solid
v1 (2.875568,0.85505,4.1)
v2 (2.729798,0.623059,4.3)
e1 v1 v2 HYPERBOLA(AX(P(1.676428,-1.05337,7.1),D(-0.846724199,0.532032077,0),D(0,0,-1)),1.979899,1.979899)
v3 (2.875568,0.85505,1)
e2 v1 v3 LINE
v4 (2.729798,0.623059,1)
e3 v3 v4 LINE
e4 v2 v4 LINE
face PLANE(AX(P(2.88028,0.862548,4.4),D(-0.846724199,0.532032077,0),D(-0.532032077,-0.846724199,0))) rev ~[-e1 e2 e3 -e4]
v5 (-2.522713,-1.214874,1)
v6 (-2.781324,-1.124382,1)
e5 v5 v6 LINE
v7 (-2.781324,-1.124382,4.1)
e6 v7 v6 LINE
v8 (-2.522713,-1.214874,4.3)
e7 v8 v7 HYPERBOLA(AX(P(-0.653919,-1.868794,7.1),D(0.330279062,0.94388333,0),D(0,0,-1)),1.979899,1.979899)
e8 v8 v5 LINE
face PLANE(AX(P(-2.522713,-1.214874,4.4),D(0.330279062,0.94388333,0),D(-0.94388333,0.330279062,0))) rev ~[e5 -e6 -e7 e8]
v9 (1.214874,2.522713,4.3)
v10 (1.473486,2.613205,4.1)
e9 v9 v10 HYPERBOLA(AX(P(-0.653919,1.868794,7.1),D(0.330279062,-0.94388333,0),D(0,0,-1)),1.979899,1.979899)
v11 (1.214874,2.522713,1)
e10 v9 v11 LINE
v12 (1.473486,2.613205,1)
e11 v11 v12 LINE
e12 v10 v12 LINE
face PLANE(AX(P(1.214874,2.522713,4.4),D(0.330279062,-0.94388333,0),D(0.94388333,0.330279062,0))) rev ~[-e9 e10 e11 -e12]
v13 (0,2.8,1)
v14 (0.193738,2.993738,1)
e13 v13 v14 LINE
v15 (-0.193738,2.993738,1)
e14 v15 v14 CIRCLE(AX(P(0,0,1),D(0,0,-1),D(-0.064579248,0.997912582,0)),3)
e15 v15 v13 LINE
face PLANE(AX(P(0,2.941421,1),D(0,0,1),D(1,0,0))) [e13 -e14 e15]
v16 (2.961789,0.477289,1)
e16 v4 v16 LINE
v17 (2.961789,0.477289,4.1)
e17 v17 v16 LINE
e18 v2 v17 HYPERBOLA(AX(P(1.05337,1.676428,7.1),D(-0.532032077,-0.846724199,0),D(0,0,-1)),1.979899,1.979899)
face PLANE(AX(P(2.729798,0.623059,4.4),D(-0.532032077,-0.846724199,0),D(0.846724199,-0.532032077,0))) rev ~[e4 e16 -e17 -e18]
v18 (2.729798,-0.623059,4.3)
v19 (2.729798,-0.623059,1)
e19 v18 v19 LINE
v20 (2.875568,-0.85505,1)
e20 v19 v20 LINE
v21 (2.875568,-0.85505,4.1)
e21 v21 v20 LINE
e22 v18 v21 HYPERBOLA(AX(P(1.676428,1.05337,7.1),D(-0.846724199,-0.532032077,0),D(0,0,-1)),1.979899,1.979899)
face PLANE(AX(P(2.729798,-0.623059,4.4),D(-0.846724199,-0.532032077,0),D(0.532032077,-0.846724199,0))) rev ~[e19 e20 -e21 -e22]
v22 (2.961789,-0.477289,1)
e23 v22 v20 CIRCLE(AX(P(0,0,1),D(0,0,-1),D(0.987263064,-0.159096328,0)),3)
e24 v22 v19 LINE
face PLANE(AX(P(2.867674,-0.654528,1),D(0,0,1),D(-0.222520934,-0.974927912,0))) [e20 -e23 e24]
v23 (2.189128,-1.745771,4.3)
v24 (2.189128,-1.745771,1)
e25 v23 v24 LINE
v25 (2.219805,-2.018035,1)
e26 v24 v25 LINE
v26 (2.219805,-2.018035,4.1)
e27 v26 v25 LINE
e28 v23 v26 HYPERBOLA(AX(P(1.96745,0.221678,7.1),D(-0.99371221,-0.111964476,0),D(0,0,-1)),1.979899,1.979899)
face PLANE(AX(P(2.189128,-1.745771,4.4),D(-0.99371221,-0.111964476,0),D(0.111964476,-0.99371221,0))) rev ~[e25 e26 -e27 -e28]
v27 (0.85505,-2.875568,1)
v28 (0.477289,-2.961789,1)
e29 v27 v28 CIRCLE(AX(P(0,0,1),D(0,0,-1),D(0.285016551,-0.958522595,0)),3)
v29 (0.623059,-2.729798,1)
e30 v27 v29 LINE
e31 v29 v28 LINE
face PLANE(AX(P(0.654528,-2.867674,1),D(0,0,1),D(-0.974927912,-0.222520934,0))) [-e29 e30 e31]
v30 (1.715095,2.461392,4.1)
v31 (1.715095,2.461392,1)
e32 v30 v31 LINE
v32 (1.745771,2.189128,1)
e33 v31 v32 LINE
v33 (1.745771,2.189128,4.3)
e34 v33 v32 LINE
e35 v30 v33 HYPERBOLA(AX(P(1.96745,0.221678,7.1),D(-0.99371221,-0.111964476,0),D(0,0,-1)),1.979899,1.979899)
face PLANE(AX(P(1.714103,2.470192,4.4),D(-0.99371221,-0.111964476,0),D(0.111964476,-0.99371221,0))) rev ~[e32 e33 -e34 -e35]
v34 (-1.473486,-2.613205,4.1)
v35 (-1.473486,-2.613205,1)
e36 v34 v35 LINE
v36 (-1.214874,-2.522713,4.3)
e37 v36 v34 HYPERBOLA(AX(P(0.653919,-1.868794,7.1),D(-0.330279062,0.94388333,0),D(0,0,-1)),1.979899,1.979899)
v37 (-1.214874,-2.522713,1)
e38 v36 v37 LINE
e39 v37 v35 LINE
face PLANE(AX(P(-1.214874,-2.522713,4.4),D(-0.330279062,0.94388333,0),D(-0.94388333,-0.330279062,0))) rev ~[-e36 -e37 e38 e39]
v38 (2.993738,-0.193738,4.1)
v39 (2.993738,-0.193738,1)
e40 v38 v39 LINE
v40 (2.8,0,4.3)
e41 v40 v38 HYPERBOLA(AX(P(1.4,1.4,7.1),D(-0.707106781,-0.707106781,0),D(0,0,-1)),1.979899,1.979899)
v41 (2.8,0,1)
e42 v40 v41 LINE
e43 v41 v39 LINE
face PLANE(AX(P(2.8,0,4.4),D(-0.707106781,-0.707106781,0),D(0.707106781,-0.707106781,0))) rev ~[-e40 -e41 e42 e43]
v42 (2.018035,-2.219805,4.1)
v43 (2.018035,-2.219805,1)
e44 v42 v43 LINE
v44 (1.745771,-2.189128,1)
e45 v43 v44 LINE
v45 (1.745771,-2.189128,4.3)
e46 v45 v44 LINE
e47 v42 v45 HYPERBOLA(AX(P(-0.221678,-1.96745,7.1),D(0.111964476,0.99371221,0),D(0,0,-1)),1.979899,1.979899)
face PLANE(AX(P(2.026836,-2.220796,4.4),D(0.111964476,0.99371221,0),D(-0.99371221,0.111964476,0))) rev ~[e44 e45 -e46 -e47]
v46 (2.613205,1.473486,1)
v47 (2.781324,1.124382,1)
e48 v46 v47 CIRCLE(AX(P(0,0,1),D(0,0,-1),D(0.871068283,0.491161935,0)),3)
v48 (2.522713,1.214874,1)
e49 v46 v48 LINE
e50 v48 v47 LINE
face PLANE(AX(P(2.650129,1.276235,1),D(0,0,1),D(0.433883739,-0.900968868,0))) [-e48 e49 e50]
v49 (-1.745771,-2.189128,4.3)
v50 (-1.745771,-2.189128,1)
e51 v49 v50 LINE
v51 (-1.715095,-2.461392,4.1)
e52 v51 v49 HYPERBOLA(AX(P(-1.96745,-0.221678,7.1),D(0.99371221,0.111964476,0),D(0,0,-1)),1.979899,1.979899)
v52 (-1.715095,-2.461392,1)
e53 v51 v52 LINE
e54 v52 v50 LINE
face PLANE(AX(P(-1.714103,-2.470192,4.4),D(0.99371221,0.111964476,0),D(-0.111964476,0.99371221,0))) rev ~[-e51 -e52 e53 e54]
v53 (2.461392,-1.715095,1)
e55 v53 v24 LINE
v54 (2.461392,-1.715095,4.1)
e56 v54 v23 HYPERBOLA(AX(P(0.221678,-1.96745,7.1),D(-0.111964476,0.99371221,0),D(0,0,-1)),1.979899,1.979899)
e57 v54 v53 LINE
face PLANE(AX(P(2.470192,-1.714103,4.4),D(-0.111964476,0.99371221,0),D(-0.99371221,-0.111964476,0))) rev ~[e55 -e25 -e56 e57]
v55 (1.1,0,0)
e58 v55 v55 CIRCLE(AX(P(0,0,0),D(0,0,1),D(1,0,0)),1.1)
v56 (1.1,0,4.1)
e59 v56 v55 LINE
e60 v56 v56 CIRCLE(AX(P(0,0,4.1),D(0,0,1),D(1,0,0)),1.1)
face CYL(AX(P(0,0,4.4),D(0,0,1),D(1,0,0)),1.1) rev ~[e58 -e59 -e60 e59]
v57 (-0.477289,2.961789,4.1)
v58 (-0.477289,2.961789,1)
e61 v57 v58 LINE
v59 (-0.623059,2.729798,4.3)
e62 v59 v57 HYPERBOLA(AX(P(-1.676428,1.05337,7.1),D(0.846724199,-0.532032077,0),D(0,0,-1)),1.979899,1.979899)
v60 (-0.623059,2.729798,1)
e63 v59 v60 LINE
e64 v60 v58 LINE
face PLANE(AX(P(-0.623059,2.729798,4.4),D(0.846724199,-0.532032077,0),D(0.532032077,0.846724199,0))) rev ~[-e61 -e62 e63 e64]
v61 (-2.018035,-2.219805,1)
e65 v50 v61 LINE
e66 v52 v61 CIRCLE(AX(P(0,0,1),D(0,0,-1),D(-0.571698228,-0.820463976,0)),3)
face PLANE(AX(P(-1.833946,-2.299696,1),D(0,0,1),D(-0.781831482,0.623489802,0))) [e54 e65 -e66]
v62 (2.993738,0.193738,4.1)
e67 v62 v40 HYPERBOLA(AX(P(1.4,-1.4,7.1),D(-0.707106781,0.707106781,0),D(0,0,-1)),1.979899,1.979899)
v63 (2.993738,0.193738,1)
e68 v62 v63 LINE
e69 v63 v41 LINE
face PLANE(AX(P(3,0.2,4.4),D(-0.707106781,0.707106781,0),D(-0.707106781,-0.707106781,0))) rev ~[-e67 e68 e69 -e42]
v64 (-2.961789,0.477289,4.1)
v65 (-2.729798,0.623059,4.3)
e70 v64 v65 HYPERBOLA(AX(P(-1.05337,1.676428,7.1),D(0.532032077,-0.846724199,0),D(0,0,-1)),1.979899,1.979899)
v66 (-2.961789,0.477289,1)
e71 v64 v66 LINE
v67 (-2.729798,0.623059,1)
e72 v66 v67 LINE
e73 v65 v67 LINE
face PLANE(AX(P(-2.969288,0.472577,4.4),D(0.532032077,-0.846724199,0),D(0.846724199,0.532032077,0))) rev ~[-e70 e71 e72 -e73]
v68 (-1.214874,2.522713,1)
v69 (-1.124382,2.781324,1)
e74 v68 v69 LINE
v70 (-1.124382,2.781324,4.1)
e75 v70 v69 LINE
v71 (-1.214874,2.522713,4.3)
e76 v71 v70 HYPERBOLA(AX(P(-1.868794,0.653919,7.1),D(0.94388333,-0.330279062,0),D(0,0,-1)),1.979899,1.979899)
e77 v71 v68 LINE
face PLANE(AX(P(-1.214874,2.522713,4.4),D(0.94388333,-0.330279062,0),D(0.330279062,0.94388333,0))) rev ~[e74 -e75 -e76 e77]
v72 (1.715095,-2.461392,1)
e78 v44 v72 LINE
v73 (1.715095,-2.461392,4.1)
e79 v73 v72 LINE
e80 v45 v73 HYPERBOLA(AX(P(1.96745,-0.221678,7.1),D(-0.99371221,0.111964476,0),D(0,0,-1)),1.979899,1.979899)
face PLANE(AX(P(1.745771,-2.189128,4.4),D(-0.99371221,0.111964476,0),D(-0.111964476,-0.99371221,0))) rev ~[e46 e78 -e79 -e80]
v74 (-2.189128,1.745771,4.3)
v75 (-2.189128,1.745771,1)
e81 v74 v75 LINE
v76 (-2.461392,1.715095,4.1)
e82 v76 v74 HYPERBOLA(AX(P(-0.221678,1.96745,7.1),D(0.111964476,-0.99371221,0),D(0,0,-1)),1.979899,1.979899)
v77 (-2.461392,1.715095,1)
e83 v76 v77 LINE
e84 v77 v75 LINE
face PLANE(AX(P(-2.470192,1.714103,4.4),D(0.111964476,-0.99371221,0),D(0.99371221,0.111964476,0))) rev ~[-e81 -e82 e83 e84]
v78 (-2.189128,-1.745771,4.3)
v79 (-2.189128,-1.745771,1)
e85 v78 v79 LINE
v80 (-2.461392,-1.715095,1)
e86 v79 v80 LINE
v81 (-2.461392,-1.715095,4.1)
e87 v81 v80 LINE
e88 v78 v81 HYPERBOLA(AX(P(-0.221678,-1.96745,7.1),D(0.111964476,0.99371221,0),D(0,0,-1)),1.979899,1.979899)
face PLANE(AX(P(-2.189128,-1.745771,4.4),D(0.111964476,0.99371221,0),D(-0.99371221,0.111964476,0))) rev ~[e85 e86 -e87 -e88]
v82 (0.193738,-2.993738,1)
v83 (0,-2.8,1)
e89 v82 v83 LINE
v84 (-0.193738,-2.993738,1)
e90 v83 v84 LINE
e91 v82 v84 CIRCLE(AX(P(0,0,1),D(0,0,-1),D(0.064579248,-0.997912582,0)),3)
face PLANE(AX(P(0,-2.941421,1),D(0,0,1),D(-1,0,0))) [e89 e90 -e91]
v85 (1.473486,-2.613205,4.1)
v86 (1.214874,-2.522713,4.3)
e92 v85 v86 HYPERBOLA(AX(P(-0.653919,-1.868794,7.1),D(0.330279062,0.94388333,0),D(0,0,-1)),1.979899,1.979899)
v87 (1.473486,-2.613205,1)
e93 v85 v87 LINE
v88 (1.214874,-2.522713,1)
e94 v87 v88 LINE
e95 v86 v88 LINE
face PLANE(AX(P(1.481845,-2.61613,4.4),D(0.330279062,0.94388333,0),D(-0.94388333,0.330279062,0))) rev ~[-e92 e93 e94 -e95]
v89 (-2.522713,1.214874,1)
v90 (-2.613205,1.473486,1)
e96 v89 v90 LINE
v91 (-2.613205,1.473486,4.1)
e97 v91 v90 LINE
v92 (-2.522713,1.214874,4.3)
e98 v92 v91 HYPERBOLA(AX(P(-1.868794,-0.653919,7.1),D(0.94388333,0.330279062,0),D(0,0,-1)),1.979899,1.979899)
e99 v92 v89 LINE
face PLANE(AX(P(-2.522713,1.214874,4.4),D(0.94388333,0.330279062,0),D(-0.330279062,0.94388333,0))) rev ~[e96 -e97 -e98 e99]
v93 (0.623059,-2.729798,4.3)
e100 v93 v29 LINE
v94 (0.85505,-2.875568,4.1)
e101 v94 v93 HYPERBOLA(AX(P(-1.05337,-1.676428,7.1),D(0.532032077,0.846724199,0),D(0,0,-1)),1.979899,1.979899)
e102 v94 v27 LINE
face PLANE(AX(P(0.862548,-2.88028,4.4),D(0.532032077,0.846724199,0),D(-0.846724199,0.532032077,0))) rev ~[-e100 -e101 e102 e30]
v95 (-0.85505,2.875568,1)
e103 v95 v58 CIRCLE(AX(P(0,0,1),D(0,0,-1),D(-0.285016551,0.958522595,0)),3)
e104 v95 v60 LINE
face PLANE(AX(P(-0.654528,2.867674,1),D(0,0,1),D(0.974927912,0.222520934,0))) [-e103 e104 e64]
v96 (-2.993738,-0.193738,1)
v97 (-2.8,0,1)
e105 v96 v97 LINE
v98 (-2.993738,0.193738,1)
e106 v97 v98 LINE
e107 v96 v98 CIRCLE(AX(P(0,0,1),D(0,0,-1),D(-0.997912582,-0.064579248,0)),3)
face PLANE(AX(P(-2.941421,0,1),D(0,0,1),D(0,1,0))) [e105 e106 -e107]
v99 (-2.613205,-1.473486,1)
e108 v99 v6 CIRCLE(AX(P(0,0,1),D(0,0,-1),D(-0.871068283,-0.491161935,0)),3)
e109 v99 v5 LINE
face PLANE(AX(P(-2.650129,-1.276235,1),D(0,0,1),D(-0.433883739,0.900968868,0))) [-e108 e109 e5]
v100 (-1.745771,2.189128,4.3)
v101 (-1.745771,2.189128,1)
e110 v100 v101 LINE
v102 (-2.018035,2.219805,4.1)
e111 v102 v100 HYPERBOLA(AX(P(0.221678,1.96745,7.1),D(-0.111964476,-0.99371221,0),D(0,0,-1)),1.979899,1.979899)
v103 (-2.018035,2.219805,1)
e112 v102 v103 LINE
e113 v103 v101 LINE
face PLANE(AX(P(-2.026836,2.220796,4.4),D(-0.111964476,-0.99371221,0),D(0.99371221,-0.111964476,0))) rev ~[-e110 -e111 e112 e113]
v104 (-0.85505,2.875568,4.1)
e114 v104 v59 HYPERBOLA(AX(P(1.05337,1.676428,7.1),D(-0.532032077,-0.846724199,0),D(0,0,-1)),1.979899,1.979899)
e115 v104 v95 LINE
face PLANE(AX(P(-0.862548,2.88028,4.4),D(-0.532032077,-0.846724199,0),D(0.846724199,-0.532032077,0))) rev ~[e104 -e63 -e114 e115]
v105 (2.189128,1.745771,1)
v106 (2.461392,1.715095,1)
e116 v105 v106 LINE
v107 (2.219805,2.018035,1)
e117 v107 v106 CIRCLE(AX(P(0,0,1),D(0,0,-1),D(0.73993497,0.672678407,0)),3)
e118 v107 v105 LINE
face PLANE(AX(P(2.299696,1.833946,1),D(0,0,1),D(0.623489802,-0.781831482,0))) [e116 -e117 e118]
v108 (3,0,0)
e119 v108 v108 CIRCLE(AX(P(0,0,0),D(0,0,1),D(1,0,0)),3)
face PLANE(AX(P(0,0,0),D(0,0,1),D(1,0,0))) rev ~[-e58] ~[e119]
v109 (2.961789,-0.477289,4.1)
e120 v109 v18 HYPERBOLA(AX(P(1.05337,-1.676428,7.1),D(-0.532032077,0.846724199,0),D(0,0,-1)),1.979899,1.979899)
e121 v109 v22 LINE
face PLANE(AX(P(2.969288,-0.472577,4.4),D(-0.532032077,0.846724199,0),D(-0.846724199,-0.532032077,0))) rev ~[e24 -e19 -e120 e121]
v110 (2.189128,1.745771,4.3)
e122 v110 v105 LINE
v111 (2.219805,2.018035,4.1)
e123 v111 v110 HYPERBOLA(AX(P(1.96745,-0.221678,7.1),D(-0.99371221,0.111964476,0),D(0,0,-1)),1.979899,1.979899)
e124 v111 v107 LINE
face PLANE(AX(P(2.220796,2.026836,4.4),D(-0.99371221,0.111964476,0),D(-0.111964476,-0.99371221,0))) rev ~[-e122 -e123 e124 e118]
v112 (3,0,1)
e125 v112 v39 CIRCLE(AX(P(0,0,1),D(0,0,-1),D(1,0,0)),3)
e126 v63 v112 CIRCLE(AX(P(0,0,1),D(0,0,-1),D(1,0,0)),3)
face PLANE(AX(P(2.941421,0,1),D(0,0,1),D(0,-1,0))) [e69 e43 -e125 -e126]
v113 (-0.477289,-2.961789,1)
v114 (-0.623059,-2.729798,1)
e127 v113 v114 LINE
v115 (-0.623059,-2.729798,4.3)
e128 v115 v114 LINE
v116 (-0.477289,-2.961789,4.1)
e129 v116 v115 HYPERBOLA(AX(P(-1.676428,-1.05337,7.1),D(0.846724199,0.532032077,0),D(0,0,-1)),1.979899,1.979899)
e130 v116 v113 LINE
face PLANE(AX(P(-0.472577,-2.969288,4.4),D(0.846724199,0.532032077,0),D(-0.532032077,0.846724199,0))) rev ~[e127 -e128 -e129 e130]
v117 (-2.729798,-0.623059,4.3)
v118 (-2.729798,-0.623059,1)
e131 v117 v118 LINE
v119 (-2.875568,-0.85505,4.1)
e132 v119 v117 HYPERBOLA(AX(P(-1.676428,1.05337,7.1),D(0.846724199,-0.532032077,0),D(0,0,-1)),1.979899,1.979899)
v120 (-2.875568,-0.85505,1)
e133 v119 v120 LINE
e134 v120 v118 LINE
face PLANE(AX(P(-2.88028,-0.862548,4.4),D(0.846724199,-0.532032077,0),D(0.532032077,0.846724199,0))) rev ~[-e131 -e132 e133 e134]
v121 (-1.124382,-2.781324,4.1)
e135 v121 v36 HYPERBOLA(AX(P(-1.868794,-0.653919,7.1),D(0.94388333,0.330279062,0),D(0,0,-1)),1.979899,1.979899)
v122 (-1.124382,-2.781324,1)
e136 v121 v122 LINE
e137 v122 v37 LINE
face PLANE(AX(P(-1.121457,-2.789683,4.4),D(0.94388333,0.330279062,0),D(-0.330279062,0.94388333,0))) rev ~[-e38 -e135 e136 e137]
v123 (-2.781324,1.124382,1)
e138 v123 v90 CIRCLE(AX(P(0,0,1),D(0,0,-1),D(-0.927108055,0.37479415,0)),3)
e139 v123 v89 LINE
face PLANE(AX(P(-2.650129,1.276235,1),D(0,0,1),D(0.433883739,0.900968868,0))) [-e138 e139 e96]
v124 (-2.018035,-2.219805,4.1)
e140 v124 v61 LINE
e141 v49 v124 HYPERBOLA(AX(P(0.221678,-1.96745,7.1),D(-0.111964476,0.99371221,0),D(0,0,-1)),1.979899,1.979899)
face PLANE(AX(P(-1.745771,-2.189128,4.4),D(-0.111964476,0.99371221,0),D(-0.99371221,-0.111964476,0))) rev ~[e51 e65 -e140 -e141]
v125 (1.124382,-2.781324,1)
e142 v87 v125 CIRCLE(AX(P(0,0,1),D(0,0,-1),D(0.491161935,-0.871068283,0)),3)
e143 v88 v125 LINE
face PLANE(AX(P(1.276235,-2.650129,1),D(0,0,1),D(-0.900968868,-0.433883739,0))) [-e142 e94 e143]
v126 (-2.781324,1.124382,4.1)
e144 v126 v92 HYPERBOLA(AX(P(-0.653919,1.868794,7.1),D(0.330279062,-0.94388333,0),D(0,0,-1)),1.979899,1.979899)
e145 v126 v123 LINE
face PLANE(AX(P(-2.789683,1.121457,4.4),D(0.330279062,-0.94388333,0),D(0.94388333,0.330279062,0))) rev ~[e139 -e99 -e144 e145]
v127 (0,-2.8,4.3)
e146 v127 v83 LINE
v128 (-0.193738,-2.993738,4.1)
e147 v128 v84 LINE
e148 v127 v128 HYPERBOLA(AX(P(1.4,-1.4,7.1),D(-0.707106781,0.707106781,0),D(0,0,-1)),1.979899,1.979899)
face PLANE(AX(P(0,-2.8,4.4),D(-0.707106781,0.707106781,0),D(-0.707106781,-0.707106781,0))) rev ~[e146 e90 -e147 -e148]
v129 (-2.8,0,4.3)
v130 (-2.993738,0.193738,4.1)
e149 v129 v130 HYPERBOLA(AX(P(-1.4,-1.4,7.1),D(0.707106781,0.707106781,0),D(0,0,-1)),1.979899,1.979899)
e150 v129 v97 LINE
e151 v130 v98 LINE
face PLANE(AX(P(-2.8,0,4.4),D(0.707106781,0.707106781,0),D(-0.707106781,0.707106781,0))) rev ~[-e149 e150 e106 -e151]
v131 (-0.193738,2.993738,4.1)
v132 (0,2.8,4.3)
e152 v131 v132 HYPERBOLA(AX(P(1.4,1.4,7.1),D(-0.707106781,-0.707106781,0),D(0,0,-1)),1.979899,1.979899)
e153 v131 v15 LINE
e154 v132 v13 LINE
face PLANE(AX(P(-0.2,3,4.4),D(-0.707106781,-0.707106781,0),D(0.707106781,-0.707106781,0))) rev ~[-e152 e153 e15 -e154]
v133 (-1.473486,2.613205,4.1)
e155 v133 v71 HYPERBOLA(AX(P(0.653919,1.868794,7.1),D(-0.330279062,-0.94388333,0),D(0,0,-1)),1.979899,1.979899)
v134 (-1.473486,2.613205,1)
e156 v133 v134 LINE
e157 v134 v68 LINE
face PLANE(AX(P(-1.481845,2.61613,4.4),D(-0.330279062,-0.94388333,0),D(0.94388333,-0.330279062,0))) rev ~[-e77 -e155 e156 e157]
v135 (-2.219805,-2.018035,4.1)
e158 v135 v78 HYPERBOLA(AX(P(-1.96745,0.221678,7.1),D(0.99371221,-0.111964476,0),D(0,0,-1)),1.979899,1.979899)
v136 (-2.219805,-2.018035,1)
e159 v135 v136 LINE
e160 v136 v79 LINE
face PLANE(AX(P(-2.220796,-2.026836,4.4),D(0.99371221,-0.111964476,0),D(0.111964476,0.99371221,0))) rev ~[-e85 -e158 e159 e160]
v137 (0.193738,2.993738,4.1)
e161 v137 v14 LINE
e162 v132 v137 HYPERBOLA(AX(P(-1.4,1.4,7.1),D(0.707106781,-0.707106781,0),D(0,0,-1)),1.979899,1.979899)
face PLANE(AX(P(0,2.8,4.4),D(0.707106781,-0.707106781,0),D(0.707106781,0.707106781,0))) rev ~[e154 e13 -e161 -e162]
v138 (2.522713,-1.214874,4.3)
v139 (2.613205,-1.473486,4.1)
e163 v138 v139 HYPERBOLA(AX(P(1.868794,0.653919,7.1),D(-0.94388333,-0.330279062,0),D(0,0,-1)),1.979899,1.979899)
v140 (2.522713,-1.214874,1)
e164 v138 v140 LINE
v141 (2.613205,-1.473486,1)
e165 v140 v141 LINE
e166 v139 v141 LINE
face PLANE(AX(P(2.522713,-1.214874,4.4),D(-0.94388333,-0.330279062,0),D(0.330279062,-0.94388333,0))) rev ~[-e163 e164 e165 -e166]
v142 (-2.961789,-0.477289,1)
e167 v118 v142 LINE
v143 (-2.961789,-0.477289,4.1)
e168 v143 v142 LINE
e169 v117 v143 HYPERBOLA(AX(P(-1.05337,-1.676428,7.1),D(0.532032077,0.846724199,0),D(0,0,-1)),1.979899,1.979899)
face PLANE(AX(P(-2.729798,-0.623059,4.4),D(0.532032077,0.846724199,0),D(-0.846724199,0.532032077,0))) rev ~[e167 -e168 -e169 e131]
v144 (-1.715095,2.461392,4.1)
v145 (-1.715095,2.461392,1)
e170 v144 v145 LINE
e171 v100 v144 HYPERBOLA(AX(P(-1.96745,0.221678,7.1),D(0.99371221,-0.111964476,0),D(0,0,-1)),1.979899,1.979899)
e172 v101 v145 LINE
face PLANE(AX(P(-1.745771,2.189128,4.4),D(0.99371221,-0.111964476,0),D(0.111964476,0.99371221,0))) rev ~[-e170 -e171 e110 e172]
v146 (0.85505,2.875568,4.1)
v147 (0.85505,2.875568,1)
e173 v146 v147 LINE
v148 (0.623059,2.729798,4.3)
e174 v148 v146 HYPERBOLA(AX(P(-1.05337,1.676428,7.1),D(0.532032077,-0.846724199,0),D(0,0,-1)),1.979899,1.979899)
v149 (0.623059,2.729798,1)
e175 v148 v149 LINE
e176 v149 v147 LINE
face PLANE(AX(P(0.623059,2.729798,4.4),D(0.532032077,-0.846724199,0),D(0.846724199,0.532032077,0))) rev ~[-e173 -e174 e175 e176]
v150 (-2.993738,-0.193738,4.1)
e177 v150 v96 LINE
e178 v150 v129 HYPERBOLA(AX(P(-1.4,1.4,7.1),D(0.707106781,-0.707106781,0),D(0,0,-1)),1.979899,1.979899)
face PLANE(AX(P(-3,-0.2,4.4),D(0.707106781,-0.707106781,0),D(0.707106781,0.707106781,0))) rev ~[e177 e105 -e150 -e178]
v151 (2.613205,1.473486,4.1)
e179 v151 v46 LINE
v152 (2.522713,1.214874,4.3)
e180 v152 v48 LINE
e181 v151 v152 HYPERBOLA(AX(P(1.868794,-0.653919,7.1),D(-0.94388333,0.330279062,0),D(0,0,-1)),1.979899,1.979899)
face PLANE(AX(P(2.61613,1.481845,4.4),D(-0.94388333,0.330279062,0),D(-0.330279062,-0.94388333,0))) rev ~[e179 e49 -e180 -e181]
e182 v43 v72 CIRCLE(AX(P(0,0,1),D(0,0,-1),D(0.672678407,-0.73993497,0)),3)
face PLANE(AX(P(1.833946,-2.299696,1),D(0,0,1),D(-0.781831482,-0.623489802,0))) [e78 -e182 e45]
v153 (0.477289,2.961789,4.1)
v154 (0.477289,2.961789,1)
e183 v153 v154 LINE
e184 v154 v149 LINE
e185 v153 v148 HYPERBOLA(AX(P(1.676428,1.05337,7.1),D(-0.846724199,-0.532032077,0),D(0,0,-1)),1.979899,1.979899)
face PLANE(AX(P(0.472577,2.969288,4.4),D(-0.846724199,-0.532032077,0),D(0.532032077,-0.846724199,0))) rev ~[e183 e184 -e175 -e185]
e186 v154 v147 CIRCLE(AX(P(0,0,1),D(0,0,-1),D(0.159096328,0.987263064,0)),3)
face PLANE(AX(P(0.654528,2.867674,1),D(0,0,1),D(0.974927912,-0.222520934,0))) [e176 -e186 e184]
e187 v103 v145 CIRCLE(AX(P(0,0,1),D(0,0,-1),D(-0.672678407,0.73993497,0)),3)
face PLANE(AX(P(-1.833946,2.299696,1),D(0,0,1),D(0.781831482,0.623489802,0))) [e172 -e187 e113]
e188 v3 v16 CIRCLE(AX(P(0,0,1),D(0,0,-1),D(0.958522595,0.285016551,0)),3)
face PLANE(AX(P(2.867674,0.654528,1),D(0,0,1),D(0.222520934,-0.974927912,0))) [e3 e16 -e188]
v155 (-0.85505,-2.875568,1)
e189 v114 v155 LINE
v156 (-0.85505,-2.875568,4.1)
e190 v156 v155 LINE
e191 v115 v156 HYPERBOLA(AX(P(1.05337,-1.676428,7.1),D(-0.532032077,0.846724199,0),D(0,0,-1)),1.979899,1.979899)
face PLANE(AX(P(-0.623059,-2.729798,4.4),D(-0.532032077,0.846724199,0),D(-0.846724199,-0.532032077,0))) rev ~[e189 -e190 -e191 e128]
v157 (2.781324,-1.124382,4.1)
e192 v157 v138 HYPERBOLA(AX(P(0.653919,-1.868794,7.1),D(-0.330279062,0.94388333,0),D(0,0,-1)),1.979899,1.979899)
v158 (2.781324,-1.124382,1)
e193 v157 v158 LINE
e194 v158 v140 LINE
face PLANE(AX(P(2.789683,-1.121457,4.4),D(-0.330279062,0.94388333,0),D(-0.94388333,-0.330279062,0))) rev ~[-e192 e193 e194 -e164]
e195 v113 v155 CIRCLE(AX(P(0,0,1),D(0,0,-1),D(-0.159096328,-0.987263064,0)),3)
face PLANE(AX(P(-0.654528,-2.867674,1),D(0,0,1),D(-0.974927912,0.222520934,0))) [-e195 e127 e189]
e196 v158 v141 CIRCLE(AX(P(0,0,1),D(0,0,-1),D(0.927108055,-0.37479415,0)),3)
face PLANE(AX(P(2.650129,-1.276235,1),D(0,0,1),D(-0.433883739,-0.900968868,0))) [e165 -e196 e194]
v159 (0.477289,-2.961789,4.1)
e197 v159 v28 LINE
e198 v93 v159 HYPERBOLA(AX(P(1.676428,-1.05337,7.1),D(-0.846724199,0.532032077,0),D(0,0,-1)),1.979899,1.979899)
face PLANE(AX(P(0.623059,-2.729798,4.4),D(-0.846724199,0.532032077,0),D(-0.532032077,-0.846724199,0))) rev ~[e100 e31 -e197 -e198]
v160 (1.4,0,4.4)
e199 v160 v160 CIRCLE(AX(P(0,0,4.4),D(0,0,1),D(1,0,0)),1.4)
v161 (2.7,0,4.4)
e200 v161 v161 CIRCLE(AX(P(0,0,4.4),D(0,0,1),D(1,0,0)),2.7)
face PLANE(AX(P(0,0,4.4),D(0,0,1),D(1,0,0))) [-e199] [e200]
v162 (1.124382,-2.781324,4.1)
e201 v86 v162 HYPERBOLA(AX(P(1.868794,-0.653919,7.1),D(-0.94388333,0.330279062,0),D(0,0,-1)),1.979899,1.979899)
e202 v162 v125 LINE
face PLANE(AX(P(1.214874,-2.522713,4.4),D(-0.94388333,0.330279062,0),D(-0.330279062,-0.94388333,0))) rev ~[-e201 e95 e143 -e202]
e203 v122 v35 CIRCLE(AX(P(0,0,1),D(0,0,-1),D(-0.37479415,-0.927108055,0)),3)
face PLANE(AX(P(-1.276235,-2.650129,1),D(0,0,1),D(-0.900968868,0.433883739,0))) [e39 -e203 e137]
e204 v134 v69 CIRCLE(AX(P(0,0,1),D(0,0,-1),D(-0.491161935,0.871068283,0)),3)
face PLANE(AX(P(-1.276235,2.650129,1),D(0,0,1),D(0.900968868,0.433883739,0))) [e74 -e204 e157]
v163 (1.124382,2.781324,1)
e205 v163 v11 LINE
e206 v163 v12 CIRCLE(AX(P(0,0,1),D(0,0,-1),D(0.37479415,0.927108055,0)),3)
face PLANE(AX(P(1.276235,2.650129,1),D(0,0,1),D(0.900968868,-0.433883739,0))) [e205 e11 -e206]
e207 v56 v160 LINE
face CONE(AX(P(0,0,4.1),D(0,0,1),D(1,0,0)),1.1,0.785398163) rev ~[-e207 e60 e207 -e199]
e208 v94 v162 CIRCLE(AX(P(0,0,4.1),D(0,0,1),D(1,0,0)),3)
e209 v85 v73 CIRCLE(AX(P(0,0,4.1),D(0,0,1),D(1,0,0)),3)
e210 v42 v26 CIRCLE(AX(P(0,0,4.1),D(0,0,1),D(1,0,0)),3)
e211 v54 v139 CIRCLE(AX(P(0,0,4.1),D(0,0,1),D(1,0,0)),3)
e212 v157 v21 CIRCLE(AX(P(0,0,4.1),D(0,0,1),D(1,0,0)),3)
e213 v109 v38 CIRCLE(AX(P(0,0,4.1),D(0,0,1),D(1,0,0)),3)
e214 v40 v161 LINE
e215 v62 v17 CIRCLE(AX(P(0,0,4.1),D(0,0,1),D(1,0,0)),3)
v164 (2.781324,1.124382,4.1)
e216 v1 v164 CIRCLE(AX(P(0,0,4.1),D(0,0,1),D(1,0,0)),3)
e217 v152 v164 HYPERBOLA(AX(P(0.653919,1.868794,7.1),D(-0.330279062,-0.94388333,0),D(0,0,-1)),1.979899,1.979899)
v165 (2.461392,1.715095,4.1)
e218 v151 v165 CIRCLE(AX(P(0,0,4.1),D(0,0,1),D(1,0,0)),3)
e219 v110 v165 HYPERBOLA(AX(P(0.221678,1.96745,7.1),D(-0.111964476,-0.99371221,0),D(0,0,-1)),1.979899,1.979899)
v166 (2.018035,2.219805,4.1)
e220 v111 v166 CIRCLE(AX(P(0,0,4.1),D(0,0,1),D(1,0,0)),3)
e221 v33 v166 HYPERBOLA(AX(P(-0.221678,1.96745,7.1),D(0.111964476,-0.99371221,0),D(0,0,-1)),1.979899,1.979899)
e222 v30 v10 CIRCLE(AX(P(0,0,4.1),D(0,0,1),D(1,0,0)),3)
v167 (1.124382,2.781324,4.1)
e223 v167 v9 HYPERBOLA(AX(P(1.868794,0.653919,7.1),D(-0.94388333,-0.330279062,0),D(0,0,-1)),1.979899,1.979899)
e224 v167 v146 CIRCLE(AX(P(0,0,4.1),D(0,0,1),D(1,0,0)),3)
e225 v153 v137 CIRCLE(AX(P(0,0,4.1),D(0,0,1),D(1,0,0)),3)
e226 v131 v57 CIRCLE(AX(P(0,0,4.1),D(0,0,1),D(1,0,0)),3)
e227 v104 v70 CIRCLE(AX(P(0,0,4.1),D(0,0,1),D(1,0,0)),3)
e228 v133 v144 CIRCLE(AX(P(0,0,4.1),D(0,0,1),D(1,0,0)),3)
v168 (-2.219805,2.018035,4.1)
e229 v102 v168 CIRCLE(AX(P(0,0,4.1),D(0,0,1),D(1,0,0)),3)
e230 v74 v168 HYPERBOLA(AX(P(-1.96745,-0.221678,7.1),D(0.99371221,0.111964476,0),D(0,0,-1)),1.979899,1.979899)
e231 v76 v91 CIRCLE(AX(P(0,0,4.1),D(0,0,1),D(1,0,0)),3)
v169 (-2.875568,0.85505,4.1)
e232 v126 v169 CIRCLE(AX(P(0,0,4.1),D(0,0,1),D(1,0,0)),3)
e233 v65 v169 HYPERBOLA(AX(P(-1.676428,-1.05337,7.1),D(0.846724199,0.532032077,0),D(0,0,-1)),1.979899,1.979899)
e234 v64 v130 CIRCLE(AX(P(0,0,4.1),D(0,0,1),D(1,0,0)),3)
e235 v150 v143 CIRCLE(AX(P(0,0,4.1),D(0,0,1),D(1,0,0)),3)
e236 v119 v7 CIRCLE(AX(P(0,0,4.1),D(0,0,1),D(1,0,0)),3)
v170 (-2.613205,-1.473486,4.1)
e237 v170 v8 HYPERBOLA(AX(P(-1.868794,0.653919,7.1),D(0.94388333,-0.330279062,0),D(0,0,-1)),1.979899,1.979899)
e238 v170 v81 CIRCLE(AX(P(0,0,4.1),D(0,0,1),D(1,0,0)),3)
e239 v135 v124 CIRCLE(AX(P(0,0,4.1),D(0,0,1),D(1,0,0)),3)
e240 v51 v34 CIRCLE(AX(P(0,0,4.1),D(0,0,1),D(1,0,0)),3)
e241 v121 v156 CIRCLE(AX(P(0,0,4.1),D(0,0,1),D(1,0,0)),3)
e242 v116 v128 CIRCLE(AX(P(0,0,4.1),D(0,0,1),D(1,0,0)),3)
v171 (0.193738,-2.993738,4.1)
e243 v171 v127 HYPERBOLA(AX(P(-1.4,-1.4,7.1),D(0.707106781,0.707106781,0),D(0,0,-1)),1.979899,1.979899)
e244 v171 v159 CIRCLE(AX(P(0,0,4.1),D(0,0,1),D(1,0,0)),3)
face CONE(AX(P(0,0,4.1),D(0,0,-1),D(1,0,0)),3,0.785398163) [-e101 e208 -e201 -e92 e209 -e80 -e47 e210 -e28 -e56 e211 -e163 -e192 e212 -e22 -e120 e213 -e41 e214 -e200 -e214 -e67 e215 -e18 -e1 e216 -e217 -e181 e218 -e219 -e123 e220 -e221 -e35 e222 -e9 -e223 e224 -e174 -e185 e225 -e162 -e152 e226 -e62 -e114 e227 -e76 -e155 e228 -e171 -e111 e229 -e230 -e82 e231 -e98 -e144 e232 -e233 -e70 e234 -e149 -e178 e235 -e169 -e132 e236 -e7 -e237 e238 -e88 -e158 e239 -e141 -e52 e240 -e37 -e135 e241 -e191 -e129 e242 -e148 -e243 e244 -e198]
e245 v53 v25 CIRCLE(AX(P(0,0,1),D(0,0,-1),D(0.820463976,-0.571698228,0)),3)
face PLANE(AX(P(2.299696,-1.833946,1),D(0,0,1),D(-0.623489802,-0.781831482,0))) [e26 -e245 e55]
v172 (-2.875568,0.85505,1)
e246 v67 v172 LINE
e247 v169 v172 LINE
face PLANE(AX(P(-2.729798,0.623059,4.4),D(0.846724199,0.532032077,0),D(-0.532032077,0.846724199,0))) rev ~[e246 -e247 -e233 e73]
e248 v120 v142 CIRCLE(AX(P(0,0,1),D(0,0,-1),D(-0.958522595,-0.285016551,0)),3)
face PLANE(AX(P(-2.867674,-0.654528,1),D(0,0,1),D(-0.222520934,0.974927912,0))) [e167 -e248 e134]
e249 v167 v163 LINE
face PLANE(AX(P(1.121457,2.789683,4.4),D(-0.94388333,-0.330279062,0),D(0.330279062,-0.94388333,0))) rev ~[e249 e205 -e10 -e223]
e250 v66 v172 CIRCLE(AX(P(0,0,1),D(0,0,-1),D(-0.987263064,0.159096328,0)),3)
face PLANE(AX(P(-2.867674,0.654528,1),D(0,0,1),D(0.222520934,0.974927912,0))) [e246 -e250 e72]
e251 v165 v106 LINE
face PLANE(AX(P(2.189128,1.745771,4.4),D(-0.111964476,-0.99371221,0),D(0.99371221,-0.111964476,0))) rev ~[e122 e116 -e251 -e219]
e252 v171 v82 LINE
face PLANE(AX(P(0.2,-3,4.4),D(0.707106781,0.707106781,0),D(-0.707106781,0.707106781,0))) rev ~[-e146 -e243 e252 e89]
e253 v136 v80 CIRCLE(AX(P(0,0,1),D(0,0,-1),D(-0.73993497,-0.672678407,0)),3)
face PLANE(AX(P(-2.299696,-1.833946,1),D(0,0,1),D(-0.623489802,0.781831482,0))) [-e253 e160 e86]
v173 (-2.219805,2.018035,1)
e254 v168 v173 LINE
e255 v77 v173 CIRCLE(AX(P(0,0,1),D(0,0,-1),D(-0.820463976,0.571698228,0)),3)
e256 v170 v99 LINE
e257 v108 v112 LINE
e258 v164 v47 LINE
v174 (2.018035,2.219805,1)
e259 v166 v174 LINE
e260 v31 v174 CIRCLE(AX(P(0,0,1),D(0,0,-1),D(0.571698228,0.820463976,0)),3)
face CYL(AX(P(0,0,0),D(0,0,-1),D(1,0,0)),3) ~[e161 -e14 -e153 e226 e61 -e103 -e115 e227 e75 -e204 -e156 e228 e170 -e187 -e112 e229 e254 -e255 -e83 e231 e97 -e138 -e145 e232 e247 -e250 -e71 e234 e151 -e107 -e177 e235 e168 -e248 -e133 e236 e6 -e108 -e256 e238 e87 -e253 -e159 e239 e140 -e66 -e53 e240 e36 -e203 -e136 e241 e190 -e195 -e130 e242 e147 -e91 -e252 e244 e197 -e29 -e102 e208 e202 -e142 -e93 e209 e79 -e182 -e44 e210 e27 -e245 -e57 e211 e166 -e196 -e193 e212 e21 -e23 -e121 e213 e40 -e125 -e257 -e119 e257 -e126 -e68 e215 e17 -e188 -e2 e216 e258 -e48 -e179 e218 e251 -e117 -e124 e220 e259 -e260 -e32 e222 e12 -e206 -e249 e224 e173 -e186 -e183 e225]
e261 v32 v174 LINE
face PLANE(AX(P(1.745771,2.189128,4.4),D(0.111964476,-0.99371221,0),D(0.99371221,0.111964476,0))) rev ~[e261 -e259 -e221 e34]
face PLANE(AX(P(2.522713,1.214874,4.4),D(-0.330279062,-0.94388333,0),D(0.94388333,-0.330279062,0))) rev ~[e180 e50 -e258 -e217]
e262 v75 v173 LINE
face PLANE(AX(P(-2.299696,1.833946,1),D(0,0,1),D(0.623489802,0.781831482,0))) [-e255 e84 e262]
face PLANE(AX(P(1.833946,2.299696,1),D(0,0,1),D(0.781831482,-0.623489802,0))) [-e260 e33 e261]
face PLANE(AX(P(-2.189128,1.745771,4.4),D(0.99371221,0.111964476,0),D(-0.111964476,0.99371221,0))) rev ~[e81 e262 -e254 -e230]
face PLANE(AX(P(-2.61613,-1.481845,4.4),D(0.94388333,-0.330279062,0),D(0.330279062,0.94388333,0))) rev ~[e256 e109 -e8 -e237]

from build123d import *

# Parameters (mm, degrees)
SKETCH026_R                 = 3
PAD002001003004001006_DEPTH = 4.4
SKETCH027_R                 = 1.1
POCKET011_DEPTH             = 4.401
CHAMFER_SIZE                = 0.3
POCKET012_DEPTH             = 3.4
POLARPATTERN_COUNT          = 28
CHAMFER001_SIZE             = 0.3


with BuildPart() as part:
    # Sketch026 → Pad002001003004001006 (new body)
    with BuildSketch(Plane.XY):
        Circle(SKETCH026_R)
    extrude(amount=PAD002001003004001006_DEPTH)

    # Sketch027 (on Face3 of Pad002001003004001006) → Pocket011 (cut, through all)
    with BuildSketch(Plane.XY.offset(4.4)):
        Circle(SKETCH027_R)
    extrude(amount=-POCKET011_DEPTH, mode=Mode.SUBTRACT)

    # Chamfer
    chamfer_edges = [part.edges().sort_by_distance(p)[0] for p in [
        (-3, 0, 4.4),
    ]]
    chamfer(chamfer_edges, length=CHAMFER_SIZE)

    # Sketch028 (on Face4 of Chamfer) → Pocket012 (cut)
    with BuildSketch(Plane.XY.offset(4.4)):
        Polygon((-0.2, 3), (0, 2.8), (0.2, 3), align=None)
    pocket012 = extrude(amount=-POCKET012_DEPTH, mode=Mode.SUBTRACT)

    # PolarPattern: Pocket012 ×28 about axis
    polarpattern_axis = Axis((0, 0, 4.4), (0, 0, 1))
    for i in range(1, POLARPATTERN_COUNT):
        add(pocket012.rotate(polarpattern_axis, i * 360 / POLARPATTERN_COUNT), mode=Mode.SUBTRACT)

    # Chamfer001
    chamfer001_edges = [part.edges().sort_by_distance(p)[0] for p in [
        (-1.1, 0, 4.4),
    ]]
    chamfer(chamfer001_edges, length=CHAMFER001_SIZE)


solid = part.part
